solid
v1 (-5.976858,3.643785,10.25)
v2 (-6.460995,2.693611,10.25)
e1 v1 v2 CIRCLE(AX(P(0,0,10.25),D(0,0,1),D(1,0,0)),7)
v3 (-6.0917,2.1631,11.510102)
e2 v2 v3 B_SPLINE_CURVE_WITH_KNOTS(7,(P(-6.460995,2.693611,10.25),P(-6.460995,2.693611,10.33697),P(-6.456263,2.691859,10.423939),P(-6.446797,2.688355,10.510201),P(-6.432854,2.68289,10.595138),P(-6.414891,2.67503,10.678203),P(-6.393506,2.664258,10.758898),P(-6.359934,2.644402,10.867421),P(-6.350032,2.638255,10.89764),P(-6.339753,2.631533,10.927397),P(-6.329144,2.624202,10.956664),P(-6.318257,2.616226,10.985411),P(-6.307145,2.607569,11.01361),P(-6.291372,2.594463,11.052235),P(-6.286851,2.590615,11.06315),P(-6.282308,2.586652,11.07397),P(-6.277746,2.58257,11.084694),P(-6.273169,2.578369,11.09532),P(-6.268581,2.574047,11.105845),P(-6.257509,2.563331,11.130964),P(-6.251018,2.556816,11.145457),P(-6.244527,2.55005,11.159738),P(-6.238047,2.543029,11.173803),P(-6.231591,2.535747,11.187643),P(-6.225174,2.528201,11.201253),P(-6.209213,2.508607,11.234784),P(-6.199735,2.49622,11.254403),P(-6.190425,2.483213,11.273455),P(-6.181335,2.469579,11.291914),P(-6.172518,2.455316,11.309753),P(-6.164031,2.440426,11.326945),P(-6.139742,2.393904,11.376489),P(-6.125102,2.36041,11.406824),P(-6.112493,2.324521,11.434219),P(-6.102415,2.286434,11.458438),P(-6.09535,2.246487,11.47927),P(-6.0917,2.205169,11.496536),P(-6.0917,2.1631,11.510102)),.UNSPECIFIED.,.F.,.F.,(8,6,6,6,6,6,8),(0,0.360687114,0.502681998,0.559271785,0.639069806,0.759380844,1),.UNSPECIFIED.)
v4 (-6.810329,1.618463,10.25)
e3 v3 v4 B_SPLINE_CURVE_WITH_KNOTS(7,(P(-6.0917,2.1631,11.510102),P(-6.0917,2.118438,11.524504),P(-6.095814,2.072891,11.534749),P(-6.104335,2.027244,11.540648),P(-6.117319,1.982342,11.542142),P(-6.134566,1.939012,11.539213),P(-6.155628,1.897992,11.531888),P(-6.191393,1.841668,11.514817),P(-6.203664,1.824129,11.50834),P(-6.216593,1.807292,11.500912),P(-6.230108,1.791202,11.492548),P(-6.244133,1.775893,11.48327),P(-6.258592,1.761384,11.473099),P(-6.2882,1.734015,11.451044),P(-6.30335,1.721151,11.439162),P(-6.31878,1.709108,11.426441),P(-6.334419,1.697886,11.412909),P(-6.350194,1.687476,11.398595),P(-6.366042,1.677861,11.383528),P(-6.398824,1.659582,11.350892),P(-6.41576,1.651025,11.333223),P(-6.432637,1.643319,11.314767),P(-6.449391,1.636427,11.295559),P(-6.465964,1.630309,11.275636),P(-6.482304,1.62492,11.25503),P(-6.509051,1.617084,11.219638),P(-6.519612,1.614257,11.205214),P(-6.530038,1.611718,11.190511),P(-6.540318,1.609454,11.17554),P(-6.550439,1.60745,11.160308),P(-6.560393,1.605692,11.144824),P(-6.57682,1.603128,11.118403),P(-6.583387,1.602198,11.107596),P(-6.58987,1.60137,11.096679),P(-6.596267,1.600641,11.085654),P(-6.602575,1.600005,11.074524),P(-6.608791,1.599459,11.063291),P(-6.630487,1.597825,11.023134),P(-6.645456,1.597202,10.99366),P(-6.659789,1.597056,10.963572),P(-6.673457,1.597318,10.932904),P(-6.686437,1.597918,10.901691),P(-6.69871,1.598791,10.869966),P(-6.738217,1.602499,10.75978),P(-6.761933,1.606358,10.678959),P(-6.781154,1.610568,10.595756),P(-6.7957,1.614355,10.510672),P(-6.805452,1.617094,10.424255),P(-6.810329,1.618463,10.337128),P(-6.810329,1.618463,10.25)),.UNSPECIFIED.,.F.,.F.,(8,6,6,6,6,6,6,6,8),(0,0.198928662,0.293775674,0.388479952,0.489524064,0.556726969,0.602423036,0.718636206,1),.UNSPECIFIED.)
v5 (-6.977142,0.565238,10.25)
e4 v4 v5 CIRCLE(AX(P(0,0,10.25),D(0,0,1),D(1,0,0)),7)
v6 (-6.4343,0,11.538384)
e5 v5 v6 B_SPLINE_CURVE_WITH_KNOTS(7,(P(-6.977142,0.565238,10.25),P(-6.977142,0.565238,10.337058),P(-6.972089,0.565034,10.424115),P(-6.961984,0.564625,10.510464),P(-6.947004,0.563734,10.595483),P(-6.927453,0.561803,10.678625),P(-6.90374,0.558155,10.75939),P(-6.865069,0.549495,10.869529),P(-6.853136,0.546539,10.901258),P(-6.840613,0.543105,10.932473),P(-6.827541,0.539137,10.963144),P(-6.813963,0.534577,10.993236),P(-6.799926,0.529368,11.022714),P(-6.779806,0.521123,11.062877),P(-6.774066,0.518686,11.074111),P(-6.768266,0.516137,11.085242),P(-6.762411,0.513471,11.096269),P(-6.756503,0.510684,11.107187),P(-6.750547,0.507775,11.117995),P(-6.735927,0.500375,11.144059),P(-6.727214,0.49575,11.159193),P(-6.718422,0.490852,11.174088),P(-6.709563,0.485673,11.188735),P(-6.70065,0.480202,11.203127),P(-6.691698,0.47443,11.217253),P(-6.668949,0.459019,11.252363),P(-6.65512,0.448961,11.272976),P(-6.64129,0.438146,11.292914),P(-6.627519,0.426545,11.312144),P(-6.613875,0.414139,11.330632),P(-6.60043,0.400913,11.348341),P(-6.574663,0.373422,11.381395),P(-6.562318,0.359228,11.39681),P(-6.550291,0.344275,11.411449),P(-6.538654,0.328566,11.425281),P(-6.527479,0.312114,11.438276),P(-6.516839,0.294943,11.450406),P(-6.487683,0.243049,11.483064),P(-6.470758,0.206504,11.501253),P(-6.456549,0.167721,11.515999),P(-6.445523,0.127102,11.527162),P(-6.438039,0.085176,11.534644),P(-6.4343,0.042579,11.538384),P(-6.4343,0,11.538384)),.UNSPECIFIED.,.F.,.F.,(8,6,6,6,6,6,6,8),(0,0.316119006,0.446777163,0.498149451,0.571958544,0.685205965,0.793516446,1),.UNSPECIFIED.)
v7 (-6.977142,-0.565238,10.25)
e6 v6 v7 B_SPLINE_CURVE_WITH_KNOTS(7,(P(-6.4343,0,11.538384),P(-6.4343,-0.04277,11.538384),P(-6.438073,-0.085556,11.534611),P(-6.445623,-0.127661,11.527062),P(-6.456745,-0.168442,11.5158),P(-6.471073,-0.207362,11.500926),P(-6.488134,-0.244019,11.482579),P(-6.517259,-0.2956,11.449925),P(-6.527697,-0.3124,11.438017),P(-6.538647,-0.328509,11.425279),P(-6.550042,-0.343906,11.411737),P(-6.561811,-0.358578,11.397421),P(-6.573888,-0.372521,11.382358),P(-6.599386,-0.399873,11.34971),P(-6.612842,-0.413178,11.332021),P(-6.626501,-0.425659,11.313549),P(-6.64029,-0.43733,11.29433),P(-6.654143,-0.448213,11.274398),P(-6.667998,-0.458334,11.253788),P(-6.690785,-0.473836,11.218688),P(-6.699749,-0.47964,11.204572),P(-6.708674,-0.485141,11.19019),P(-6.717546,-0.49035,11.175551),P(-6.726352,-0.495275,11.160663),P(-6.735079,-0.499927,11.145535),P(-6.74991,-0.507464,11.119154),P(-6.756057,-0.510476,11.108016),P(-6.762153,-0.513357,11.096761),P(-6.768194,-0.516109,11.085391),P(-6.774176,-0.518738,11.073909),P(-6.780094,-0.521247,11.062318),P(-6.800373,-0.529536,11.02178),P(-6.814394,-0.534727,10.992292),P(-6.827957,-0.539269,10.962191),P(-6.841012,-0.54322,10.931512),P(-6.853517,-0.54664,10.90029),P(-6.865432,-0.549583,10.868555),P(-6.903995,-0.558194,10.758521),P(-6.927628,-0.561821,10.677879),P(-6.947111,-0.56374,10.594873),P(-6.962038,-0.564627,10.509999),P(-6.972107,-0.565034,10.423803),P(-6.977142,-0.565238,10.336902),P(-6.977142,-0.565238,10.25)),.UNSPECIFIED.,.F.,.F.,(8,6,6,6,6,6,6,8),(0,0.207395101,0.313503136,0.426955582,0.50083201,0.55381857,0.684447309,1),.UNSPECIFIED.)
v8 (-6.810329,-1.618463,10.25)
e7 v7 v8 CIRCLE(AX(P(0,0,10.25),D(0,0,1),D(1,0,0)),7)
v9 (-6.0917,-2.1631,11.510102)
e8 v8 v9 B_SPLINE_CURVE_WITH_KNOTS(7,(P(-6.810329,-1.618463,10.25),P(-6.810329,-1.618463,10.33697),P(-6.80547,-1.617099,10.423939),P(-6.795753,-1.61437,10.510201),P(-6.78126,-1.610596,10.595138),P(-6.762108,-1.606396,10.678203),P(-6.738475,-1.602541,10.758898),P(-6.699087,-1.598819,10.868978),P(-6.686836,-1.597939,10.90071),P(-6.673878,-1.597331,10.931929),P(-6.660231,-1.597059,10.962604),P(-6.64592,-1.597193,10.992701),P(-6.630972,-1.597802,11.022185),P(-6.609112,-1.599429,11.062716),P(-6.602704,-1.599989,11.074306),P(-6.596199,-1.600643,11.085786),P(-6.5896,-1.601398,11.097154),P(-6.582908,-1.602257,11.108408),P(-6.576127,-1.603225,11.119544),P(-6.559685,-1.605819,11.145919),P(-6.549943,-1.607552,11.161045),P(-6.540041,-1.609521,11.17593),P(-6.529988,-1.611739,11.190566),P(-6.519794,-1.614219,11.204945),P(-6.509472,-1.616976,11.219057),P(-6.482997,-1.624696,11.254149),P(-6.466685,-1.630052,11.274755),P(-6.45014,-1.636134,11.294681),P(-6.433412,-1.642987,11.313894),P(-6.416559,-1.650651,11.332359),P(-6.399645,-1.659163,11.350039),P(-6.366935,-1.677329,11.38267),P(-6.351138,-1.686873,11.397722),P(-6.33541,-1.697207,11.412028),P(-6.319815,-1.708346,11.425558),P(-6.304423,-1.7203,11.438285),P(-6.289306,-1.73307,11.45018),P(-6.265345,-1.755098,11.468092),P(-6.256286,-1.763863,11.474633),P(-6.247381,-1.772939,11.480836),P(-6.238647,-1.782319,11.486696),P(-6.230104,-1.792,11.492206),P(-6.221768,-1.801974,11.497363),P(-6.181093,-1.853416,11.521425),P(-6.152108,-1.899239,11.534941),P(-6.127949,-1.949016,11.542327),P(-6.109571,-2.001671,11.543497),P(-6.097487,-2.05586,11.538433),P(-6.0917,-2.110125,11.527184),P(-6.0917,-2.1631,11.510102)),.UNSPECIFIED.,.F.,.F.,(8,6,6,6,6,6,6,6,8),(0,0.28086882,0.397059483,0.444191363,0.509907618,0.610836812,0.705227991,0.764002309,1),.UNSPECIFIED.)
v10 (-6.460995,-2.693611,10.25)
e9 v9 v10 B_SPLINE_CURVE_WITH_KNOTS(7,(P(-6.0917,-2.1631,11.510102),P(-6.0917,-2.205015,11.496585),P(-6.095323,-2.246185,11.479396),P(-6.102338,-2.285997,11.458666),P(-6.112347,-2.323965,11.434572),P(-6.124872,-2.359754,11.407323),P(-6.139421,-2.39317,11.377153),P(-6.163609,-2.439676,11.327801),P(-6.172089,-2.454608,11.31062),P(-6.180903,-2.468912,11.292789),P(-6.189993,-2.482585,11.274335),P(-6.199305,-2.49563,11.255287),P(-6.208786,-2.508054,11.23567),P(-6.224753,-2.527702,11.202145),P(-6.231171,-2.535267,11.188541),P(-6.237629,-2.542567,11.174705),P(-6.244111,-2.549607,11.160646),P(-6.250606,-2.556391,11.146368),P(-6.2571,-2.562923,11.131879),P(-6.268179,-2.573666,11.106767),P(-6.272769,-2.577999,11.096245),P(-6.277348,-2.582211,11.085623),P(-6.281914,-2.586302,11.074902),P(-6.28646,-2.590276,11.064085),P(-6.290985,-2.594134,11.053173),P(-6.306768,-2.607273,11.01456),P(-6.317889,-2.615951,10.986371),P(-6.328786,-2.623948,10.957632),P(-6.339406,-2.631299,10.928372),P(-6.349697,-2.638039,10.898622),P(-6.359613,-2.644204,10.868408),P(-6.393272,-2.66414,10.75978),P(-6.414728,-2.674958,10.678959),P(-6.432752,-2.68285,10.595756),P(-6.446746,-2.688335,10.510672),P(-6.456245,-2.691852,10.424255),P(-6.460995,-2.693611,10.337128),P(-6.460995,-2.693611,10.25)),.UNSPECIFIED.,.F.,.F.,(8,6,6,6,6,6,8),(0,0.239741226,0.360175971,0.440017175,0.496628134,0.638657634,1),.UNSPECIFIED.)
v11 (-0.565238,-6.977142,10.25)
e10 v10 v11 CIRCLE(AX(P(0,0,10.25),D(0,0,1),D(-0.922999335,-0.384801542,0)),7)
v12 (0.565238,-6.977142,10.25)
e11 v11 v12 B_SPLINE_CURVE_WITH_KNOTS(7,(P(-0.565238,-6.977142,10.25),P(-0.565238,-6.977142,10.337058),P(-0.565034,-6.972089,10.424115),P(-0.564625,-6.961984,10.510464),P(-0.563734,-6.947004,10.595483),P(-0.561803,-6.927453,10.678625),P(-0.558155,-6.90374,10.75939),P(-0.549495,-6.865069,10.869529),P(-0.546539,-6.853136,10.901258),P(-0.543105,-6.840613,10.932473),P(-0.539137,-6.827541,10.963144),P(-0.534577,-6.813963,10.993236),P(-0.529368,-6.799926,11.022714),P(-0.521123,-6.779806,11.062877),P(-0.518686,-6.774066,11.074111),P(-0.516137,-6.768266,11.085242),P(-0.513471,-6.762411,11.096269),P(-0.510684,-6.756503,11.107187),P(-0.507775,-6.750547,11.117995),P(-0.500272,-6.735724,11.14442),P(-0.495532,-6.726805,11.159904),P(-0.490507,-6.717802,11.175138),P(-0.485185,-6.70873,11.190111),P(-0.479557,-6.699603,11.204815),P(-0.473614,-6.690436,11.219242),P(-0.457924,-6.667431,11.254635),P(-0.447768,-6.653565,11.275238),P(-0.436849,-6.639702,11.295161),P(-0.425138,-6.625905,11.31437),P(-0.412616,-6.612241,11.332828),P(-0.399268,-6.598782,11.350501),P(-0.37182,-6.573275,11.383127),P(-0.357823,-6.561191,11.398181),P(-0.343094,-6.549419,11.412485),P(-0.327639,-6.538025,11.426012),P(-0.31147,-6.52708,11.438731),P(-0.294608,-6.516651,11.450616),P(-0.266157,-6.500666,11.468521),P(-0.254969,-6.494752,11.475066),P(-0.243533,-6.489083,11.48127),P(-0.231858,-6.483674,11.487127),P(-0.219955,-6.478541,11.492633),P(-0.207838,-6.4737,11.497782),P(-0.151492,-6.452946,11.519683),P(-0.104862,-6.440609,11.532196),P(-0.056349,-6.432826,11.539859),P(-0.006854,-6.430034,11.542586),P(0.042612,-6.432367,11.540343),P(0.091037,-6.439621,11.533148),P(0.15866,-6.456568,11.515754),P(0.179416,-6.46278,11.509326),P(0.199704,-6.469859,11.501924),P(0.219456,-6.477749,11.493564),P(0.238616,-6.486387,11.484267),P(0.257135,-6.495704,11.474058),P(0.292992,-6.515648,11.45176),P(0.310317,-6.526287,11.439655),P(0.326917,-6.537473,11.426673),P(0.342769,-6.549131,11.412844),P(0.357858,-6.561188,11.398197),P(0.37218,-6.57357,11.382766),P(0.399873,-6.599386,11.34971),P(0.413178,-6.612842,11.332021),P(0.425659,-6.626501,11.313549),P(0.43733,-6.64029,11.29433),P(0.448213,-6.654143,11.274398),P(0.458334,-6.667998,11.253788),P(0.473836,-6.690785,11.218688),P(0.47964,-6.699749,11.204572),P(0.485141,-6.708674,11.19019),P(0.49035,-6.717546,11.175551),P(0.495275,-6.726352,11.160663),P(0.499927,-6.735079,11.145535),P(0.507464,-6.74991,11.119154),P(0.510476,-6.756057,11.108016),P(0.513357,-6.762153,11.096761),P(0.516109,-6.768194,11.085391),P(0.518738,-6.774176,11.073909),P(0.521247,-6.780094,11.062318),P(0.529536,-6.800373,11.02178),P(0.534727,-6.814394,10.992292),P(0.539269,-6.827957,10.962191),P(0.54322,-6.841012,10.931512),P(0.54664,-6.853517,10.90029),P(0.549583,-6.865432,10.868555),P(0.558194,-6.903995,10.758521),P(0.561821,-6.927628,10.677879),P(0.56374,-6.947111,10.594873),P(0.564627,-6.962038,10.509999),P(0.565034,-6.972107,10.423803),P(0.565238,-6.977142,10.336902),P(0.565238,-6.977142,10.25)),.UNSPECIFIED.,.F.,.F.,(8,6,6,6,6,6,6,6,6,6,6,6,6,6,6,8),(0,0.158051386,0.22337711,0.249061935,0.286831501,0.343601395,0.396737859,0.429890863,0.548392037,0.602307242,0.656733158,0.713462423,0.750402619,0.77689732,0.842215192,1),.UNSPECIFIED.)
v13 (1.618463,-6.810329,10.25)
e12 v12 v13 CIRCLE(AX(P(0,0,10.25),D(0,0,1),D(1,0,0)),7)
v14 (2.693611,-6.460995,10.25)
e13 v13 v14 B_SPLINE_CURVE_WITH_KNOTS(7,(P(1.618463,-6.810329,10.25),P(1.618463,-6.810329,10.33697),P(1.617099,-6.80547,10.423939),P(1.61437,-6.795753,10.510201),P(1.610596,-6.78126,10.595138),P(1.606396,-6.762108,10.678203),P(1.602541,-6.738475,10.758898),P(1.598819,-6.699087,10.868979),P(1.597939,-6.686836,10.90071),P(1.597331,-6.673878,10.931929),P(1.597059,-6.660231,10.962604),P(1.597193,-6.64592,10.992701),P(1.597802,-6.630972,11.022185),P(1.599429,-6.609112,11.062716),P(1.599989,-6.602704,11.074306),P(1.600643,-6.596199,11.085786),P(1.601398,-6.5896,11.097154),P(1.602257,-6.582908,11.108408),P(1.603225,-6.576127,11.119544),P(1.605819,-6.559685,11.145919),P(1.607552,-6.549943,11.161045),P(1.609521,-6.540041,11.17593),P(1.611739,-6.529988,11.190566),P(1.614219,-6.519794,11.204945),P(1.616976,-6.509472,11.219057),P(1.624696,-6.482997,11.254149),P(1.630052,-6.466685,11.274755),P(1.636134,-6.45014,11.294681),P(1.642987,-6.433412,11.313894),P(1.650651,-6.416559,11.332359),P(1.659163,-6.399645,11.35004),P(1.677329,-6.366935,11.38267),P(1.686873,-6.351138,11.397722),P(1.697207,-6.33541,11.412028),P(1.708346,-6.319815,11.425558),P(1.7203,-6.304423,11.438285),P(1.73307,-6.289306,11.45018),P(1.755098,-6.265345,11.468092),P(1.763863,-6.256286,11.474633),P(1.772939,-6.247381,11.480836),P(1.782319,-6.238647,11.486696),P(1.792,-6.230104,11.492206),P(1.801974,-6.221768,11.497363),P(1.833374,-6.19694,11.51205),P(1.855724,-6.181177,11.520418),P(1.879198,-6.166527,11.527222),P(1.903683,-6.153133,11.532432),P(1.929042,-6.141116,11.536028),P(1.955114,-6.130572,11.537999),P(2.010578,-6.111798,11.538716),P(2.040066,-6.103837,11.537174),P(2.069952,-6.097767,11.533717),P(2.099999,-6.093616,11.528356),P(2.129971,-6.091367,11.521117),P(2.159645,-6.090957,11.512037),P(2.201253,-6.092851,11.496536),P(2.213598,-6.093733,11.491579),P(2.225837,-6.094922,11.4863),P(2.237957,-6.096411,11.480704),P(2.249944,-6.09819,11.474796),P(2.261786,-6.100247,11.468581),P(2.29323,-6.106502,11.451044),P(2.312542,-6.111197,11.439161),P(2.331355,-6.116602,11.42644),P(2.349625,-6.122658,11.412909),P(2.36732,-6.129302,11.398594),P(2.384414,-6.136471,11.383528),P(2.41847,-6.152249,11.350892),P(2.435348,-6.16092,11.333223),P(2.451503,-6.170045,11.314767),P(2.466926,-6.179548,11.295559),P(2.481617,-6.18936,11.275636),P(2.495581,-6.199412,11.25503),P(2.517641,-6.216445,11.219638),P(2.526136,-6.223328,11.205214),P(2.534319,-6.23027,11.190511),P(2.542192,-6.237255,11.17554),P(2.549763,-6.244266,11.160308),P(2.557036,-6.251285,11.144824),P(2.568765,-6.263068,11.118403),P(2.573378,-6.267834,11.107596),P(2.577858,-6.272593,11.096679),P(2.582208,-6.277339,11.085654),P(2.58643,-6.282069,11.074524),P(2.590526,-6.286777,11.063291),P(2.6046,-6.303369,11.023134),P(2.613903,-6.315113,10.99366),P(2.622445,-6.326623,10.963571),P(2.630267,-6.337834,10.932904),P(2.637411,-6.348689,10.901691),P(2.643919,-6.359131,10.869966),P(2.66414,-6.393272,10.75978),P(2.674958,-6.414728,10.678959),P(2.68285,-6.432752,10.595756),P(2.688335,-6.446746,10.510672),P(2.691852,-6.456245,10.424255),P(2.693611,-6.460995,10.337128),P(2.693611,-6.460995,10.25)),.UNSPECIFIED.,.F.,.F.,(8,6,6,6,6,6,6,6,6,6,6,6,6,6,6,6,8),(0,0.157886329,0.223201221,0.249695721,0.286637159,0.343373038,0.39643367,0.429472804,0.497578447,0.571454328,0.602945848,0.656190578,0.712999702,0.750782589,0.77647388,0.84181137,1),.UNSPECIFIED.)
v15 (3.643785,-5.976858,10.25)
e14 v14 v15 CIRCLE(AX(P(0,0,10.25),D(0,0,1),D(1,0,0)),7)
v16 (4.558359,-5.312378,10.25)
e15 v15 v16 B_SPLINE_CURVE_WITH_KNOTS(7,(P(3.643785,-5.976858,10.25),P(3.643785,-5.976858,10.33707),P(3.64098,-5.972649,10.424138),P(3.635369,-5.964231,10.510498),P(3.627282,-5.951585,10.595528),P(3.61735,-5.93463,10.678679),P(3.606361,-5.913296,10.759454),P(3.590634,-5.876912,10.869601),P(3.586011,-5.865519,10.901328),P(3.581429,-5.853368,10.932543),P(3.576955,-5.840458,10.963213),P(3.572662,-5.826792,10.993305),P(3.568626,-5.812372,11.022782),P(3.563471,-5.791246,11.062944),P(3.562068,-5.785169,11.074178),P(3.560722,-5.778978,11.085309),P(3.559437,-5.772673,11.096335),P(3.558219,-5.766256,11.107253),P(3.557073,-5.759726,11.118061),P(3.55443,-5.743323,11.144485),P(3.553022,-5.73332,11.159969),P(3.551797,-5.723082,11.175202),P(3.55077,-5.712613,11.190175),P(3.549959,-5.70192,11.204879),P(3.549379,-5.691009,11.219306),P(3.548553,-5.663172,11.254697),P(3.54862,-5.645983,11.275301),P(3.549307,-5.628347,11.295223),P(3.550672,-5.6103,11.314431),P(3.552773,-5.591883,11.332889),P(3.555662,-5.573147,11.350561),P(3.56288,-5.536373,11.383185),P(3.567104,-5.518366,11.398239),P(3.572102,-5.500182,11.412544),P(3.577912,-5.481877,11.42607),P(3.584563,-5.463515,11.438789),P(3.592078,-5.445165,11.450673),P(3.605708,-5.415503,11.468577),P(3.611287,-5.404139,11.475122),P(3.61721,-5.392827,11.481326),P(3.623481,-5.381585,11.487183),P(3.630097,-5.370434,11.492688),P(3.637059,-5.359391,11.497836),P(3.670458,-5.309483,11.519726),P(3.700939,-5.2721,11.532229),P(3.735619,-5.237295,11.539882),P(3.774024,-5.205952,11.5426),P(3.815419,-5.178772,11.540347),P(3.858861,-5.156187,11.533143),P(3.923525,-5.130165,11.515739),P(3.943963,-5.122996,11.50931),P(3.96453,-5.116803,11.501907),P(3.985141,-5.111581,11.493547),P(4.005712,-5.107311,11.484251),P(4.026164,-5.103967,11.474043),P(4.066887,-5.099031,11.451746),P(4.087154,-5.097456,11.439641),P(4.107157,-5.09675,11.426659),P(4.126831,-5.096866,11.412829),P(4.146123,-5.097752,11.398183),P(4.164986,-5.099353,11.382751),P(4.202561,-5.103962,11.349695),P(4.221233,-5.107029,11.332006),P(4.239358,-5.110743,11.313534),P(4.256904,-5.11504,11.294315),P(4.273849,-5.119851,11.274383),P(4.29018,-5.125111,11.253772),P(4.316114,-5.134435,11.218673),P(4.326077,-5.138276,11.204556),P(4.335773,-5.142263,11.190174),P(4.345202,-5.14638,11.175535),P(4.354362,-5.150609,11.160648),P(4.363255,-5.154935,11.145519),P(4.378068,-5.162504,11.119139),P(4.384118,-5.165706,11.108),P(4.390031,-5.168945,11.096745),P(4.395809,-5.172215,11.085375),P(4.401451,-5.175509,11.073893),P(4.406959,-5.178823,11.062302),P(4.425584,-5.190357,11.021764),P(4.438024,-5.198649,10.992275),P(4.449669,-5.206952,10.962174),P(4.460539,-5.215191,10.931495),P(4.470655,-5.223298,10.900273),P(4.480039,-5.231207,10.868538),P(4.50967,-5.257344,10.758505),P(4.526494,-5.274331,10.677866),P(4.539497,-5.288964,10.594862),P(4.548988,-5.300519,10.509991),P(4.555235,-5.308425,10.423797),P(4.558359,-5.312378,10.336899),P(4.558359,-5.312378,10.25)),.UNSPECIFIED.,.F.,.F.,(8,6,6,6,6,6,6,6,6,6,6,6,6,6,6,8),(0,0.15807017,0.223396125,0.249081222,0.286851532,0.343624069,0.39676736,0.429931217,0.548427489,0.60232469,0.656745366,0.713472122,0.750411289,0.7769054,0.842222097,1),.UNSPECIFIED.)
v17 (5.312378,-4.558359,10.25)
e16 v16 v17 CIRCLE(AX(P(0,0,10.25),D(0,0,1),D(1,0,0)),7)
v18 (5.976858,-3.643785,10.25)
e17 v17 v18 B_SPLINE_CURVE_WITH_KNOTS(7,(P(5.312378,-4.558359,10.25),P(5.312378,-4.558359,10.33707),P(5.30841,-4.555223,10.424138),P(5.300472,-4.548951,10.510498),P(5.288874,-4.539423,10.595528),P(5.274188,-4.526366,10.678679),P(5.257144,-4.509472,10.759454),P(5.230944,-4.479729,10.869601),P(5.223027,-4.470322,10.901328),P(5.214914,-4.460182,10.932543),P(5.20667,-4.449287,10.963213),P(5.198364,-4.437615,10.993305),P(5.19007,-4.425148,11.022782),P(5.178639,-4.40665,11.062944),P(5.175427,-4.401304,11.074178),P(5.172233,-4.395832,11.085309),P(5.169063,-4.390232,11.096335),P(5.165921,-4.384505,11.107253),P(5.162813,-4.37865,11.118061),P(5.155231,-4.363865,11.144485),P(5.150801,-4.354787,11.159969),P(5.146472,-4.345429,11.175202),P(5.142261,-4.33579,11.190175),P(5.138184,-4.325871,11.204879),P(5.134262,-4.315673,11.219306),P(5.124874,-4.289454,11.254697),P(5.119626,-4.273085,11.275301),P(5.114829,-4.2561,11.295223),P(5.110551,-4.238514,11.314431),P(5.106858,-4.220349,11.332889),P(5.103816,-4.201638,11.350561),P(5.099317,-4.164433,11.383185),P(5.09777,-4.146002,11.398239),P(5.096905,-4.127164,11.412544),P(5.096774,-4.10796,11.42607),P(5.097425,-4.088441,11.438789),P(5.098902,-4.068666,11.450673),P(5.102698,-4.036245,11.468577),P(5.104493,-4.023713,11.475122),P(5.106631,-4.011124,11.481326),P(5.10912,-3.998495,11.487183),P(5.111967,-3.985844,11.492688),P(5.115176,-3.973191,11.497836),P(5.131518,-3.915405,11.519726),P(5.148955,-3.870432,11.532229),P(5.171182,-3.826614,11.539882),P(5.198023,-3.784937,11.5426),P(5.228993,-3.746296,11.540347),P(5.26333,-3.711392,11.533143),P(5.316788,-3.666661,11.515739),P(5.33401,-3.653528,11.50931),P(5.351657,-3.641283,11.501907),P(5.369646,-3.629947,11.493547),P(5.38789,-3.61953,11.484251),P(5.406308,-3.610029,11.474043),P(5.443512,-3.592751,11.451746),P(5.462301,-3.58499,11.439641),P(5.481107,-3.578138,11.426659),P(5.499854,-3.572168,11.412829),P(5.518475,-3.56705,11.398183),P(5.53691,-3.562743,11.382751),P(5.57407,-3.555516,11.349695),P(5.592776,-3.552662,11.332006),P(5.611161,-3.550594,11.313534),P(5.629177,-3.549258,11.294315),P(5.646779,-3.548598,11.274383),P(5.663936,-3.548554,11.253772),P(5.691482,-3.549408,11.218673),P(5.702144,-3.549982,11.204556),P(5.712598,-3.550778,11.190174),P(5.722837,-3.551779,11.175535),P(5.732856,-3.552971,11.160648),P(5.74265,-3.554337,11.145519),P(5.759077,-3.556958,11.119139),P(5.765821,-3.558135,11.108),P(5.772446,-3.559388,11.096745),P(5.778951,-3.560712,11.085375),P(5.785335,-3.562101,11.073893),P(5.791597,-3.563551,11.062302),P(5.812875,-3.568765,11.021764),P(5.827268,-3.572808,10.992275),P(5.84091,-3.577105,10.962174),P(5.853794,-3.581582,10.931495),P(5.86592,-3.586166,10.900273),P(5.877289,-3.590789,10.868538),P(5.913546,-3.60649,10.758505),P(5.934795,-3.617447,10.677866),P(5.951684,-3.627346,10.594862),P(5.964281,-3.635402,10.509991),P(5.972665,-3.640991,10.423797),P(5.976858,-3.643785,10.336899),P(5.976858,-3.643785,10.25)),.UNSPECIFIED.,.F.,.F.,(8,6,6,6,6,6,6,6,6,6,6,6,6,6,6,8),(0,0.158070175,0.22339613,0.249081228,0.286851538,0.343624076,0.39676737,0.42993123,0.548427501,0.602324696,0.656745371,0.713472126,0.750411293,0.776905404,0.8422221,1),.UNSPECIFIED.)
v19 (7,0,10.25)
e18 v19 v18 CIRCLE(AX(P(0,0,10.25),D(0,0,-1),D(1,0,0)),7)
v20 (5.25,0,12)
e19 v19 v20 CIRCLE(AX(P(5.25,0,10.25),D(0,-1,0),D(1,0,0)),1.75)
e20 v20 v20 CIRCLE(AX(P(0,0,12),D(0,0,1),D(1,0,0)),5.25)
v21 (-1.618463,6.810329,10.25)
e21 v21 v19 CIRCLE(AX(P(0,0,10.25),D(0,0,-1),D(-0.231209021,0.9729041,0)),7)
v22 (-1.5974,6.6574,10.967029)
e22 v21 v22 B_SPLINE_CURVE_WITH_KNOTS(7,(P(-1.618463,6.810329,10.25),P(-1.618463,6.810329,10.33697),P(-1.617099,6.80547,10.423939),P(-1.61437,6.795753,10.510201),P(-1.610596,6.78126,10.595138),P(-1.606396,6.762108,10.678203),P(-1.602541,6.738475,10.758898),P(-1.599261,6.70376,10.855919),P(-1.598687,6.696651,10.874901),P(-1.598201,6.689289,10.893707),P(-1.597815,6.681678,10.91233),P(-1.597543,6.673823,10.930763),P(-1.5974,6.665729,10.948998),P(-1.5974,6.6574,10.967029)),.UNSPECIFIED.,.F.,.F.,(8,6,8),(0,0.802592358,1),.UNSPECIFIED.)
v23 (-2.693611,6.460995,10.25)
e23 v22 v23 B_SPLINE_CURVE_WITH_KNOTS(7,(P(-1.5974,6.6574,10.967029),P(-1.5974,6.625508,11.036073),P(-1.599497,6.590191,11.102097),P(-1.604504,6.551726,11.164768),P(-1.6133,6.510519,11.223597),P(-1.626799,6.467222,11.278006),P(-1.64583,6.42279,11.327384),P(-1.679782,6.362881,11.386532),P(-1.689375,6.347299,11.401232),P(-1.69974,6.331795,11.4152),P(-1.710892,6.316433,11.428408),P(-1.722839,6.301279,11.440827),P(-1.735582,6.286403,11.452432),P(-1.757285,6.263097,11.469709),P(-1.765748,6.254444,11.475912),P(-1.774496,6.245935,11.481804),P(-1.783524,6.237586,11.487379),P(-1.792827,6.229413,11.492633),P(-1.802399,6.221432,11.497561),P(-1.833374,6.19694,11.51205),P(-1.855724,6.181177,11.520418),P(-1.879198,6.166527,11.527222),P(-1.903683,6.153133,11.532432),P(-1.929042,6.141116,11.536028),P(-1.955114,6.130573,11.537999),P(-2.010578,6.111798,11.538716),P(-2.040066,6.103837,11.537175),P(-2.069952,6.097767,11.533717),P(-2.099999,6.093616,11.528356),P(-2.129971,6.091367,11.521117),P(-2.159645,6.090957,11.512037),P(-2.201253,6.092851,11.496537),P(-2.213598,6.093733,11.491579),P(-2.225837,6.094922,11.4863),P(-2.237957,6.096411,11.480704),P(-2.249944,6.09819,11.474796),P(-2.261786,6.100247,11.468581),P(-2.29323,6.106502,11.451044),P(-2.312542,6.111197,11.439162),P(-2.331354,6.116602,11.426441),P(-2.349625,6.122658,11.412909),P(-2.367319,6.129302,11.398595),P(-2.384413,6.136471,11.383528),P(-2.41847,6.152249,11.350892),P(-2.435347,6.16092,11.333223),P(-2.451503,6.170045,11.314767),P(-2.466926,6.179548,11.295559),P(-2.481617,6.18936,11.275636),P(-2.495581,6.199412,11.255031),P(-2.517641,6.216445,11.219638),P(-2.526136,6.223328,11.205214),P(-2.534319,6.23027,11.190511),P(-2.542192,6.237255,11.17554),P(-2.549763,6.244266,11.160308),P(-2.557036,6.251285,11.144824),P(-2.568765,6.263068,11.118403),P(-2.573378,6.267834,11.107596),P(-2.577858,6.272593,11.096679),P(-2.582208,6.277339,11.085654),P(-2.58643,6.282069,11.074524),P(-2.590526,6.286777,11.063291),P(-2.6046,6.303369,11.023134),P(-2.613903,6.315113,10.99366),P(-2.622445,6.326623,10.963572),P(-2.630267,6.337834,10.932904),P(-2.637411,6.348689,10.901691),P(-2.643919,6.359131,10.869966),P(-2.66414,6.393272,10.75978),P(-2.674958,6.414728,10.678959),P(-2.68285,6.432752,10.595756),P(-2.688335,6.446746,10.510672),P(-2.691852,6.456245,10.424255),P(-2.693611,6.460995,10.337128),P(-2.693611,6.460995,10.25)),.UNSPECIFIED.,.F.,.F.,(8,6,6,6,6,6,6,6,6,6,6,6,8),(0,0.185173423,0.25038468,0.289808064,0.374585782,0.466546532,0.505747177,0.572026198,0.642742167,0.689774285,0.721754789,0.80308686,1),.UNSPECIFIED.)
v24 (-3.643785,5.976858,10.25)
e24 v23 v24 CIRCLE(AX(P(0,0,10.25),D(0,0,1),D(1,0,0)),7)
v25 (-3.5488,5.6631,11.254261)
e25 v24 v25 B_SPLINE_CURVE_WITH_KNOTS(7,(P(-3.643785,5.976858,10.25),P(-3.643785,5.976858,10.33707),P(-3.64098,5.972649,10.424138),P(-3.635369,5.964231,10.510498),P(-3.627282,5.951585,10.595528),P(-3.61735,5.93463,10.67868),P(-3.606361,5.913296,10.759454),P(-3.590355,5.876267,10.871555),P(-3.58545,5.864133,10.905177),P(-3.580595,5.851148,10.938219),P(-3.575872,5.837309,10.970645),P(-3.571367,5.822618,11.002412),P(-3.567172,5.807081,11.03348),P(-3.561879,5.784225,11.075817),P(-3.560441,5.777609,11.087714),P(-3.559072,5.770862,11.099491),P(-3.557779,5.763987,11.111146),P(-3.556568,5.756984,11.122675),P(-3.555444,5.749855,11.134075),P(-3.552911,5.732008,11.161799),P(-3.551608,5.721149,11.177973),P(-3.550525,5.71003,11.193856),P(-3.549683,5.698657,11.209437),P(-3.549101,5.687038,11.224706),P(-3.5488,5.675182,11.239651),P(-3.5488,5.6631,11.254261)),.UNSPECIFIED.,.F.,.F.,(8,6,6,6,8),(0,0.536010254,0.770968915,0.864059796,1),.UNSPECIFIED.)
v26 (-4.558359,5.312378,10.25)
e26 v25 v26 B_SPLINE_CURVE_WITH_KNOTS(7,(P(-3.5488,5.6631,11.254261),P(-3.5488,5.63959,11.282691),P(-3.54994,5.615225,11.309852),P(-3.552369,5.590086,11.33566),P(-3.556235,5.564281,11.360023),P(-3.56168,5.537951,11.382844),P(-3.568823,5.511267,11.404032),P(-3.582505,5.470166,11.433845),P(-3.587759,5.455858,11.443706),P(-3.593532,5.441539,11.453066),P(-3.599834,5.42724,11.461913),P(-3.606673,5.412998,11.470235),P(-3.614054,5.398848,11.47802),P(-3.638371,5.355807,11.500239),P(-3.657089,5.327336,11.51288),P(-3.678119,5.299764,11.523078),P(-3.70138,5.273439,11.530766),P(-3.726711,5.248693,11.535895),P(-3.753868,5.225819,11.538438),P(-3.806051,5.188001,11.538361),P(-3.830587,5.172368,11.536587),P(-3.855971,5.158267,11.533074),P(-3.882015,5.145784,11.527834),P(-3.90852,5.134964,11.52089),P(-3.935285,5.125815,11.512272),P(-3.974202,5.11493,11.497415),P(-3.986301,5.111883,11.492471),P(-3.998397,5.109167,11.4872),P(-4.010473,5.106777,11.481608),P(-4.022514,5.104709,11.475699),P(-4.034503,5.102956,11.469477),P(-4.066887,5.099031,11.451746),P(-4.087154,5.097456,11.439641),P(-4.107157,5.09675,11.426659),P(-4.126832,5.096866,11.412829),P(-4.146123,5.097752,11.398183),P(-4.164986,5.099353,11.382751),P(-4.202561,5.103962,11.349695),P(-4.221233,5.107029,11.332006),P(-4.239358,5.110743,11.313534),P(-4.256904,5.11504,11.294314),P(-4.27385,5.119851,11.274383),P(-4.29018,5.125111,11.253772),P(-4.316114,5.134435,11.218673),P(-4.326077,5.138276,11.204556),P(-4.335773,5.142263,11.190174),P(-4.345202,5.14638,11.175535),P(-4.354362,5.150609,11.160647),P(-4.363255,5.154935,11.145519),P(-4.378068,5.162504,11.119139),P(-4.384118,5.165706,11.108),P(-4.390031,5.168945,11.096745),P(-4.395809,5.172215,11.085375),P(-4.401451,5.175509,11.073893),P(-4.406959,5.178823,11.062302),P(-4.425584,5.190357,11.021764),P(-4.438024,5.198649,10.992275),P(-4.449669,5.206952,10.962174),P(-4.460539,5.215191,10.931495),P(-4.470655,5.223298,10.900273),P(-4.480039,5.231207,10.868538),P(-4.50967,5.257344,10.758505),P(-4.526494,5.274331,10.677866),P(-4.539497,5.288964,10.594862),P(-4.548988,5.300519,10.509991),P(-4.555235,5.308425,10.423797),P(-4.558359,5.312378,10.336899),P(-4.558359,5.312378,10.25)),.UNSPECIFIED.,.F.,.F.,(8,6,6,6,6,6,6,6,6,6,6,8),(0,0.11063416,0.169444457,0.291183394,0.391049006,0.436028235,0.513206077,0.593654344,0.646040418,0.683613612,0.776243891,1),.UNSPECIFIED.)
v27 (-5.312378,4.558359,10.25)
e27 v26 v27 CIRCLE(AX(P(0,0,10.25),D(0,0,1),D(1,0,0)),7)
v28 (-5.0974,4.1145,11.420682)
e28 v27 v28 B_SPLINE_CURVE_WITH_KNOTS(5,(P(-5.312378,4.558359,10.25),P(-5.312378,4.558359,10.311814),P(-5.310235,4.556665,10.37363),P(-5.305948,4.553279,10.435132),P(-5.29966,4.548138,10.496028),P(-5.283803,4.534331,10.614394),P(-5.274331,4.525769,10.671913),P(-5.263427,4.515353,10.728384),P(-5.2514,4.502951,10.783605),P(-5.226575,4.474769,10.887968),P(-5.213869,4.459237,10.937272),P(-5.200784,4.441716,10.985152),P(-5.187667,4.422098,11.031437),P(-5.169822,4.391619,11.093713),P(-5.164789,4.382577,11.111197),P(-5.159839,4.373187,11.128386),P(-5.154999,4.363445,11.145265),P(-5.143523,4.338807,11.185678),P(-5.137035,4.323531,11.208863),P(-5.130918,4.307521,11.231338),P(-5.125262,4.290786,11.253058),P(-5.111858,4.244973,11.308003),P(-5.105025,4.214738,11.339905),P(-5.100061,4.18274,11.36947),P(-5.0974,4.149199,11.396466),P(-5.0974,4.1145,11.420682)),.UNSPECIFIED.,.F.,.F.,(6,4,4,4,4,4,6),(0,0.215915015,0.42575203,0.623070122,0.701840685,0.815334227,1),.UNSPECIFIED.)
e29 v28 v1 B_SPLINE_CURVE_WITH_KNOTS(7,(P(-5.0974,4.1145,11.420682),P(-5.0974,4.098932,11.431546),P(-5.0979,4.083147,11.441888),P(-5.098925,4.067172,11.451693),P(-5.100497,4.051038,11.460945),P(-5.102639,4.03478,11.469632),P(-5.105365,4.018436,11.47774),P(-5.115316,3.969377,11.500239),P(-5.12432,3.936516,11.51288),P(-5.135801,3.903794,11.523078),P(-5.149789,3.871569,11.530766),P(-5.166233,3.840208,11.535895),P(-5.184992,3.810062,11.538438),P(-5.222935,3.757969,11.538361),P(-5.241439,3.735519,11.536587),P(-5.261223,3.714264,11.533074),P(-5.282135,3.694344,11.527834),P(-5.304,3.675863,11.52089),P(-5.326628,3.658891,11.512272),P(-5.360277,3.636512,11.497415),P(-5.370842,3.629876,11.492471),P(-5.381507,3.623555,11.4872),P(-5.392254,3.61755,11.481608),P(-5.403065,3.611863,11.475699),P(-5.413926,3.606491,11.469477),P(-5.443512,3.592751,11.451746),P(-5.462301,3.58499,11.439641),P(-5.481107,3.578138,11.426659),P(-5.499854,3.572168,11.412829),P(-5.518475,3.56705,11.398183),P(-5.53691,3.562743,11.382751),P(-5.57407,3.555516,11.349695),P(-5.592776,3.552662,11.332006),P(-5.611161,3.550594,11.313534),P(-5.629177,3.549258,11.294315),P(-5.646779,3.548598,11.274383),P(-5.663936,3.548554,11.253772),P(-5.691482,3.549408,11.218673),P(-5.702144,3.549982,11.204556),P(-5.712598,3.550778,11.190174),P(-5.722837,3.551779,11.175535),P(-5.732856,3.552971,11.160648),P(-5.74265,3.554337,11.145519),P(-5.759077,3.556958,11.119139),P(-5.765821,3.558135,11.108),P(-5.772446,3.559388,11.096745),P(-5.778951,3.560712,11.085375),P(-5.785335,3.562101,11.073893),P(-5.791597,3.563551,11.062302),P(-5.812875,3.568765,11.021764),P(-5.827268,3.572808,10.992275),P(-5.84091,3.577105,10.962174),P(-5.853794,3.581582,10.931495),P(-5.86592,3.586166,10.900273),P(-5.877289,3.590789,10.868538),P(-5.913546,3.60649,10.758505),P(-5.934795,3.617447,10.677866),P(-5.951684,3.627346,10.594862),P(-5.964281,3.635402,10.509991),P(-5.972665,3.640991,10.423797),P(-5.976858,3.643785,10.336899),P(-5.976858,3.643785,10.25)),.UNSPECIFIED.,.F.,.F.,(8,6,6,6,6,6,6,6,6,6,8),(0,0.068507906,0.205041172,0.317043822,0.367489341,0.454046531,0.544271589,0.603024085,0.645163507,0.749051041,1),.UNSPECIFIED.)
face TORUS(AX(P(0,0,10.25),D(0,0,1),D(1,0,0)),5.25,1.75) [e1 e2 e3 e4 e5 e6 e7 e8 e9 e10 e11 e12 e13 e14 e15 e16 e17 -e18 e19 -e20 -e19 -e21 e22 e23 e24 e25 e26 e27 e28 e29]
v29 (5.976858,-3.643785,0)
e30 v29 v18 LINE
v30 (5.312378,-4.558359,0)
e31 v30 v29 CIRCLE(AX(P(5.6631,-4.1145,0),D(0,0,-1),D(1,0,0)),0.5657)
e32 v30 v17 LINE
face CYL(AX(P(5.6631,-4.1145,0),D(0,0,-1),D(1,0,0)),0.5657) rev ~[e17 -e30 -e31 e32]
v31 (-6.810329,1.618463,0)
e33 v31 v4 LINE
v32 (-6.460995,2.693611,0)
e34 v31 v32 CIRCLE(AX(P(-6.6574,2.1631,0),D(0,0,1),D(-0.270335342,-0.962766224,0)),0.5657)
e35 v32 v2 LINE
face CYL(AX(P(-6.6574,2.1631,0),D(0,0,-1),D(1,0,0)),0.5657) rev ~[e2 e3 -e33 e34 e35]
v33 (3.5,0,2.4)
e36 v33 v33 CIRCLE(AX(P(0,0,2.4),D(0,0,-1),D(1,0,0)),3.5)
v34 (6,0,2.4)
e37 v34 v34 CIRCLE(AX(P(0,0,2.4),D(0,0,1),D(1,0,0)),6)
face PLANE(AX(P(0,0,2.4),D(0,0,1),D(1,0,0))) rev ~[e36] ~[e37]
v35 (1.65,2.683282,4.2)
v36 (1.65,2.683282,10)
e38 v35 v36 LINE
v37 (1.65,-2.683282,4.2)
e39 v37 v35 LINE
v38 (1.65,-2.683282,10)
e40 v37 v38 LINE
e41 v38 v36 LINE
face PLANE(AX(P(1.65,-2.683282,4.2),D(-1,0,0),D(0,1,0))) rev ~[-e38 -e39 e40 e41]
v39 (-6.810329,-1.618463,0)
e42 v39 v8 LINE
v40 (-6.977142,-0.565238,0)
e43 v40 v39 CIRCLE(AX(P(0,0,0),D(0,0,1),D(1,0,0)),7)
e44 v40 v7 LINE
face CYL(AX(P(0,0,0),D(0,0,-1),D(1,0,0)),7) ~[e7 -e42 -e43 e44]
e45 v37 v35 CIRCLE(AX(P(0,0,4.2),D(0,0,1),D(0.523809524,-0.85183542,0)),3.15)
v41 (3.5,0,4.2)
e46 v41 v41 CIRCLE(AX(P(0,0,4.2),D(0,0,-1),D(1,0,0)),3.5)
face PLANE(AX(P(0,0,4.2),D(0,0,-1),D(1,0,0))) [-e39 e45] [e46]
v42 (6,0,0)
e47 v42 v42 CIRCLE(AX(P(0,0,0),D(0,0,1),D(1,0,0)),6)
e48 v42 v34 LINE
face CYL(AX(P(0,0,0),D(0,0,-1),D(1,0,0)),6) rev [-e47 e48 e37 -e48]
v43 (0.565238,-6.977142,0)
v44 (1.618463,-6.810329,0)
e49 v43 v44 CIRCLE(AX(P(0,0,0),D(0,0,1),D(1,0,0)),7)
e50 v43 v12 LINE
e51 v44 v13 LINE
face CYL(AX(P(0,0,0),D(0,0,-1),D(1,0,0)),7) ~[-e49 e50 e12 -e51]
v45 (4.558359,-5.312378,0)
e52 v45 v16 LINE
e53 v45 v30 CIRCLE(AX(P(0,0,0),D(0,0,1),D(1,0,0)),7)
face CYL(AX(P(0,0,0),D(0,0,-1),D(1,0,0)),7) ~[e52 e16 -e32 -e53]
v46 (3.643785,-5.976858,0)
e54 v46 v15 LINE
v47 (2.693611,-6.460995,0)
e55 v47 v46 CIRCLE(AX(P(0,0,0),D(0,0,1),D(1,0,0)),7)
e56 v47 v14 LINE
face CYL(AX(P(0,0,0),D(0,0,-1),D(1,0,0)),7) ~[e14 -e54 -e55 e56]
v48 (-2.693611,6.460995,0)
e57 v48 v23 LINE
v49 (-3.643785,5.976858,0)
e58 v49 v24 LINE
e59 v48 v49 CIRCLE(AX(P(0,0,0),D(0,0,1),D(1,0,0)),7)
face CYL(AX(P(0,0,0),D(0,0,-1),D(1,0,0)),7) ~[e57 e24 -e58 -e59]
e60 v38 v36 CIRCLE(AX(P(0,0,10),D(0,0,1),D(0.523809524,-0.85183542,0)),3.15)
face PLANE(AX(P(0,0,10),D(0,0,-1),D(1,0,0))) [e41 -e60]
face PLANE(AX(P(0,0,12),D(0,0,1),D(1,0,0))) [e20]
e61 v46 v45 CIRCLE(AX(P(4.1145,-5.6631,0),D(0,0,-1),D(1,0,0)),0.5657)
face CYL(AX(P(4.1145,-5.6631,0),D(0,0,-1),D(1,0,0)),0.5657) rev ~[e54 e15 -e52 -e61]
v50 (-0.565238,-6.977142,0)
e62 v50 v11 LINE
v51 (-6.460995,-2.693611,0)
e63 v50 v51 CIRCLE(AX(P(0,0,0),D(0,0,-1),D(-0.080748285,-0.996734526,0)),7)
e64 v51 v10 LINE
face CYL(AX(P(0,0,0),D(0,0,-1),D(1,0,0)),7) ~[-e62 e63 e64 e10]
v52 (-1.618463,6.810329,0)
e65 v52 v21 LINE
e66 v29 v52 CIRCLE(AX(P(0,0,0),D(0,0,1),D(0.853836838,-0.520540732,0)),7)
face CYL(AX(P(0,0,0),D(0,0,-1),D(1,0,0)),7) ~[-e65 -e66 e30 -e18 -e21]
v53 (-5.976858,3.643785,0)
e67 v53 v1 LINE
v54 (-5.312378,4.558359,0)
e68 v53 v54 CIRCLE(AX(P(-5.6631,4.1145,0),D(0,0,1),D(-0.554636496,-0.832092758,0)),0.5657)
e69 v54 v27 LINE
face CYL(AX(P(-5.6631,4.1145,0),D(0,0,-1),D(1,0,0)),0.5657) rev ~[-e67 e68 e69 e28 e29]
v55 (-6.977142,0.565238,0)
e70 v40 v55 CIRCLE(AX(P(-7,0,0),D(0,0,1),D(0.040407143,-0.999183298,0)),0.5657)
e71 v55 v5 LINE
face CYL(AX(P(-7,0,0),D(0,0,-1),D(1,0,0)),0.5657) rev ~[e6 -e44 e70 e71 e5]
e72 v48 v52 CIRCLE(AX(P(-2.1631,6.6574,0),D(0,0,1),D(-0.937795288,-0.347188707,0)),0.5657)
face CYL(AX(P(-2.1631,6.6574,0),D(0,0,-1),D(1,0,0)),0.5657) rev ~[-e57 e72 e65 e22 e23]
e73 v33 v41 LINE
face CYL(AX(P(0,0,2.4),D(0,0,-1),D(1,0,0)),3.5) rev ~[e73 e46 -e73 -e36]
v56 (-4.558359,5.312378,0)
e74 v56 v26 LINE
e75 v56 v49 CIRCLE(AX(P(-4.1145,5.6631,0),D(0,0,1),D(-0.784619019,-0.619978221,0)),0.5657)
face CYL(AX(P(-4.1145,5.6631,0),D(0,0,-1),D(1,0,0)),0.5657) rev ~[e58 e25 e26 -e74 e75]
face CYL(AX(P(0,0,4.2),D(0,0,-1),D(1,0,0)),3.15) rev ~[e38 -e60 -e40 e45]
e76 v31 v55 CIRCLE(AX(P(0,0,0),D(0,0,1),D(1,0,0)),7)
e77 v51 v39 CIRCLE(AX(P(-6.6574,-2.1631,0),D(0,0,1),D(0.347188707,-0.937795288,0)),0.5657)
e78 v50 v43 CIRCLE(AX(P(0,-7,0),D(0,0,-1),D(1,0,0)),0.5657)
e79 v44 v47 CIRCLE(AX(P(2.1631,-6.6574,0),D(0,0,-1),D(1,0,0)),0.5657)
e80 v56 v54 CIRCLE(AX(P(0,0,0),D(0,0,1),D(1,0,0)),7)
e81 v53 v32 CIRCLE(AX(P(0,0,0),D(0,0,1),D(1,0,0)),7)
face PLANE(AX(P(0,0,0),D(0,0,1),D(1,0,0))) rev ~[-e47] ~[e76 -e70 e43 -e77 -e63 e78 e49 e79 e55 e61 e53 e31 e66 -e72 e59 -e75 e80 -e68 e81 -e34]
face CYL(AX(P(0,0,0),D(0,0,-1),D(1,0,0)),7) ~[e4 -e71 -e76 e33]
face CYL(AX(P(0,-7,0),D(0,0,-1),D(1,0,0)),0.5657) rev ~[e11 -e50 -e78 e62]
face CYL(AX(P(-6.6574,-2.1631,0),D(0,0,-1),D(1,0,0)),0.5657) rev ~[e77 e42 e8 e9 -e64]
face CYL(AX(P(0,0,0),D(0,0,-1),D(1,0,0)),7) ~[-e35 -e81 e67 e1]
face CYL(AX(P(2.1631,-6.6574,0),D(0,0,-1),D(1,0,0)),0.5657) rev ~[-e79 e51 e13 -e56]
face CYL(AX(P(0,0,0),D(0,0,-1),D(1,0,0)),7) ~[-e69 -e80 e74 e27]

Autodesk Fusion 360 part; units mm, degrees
sketch "Sketch1" plane through (0, 0, 0) normal (0, 0, 1) x (1, 0, 0)
  circle A0 centre (0, 0) radius 7
  dimension "d1" = 14
extrude "Extrude1" add sketch "Sketch1" along normal blind 12
fillet "Fillet1" radius 1.75 1 edges at (-6.5263, -2.5313, 12)
sketch "Sketch2" plane through (0, 0, 0) normal (0, 0, -1) x (1, 0, 0)
  circle A0 centre (0, 0) radius 7
  circle A1 centre (0, 0) radius 7
  circle A2 centre (0, 0) radius 6
  circle A3 centre (0, 0) radius 7
  line L0 (0, 0) -> (0, 0.2) construction
  line L1 (0, 0.2) -> (0, 7) construction
  line L2 (0, 6) -> (0.65, 6) construction
  line L3 (0, 7) -> (0.6591, 6.9689) construction
  line L4 (0.65, 6) -> (0.65, 6.9845) construction
  line L5 (0.65, 6.4922) -> (0, 6.4922) construction
  circle A4 centre (0, 7) radius 0.5657
  circle A5 centre (-2.1631, 6.6574) radius 0.5657
  circle A6 centre (-4.1145, 5.6631) radius 0.5657
  circle A7 centre (-5.6631, 4.1145) radius 0.5657
  circle A8 centre (-6.6574, 2.1631) radius 0.5657
  circle A9 centre (-7, 0) radius 0.5657
  circle A10 centre (-6.6574, -2.1631) radius 0.5657
  circle A11 centre (-5.6631, -4.1145) radius 0.5657
  circle A12 centre (-4.1145, -5.6631) radius 0.5657
  circle A13 centre (-2.1631, -6.6574) radius 0.5657
  circle A14 centre (0, -7) radius 0.5657
  circle A15 centre (2.1631, -6.6574) radius 0.5657
  circle A16 centre (4.1145, -5.6631) radius 0.5657
  circle A17 centre (5.6631, -4.1145) radius 0.5657
  circle A18 centre (6.6574, -2.1631) radius 0.5657
  circle A19 centre (7, 0) radius 0.5657
  circle A20 centre (6.6574, 2.1631) radius 0.5657
  circle A21 centre (5.6631, 4.1145) radius 0.5657
  circle A22 centre (4.1145, 5.6631) radius 0.5657
  circle A23 centre (2.1631, 6.6574) radius 0.5657
  dimension "d6" = 1
  dimension "d8" = 360
extrude "Extrude2" cut sketch "Sketch2" against normal up to surface (12 mm away) contours A0 A1 A3 A19 | A0 A1 A3 A20 | A0 A1 A3 A18 | A0 A1 A3 A21 | A0 A1 A3 A17 | A0 A1 A3 A22 | A0 A1 A3 A16 | A0 A1 A3 A23 | A0 A1 A3 A15 | A0 A1 A3 A4 | A0 A1 A3 A14 | A0 A1 A3 A5 | A0 A1 A3 A13 | A0 A1 A3 A6 | A0 A1 A3 A12 | A0 A1 A3 A7 | A0 A1 A3 A11 | A0 A1 A3 A8 | A0 A1 A3 A10 | A0 A1 A3 A9 picked at (7.1797, -0.1173) picked at (6.8361, 2.2176) picked at (6.8361, -2.2176) picked at (5.5015, 4.0141) picked at (5.8177, -4.2195) picked at (4.0141, 5.5015) picked at (4.2165, -5.8197) picked at (2.0914, 6.4812) picked at (2.2148, -6.837) picked at (-0.0137, 6.8102) picked at (-0.0038, -7.1868) picked at (-2.2209, 6.8351) picked at (-2.1158, -6.4731) picked at (-4.2243, 5.8143) picked at (-3.9923, -5.5173) picked at (-5.8143, 4.2243) picked at (-5.5036, -4.0109) picked at (-6.4748, 2.1098) picked at (-6.4748, -2.1098) picked at (-6.8097, 0)
sketch "Sketch3" plane through (0, 0, 0) normal (0, 0, 1) x (1, 0, 0)
  circle A0 centre (0, 0) radius 6
  dimension "d11" = 12
extrude "Extrude3" cut sketch "Sketch3" along normal blind 2.4
sketch "Sketch4" plane through (0, 0, 2.4) normal (0, 0, -1) x (1, 0, 0)
  circle A0 centre (0, 0) radius 6
  circle A1 centre (0, 0) radius 3.5
  dimension "d14" = 7
extrude "Extrude4" cut sketch "Sketch4" against normal blind 1.8 contours A1
sketch "Sketch5" plane through (0, 0, 4.2) normal (0, 0, -1) x (1, 0, 0)
  circle A0 centre (0, 0) radius 3.5
  circle A1 centre (0, 0) radius 3.5
  circle A2 centre (0, 0) radius 3.15
  line L0 (1.65, 4.5) -> (1.65, -4.3)
  line L1 (3.15, 4.1) -> (3.15, -3.8) construction
  dimension "d17" = 6.3
  dimension "d18" = 1.5
extrude "Extrude5" cut sketch "Sketch5" against normal up to surface (5.8 mm away) contours A2 L0 picked at (1.774, -0.8051)
